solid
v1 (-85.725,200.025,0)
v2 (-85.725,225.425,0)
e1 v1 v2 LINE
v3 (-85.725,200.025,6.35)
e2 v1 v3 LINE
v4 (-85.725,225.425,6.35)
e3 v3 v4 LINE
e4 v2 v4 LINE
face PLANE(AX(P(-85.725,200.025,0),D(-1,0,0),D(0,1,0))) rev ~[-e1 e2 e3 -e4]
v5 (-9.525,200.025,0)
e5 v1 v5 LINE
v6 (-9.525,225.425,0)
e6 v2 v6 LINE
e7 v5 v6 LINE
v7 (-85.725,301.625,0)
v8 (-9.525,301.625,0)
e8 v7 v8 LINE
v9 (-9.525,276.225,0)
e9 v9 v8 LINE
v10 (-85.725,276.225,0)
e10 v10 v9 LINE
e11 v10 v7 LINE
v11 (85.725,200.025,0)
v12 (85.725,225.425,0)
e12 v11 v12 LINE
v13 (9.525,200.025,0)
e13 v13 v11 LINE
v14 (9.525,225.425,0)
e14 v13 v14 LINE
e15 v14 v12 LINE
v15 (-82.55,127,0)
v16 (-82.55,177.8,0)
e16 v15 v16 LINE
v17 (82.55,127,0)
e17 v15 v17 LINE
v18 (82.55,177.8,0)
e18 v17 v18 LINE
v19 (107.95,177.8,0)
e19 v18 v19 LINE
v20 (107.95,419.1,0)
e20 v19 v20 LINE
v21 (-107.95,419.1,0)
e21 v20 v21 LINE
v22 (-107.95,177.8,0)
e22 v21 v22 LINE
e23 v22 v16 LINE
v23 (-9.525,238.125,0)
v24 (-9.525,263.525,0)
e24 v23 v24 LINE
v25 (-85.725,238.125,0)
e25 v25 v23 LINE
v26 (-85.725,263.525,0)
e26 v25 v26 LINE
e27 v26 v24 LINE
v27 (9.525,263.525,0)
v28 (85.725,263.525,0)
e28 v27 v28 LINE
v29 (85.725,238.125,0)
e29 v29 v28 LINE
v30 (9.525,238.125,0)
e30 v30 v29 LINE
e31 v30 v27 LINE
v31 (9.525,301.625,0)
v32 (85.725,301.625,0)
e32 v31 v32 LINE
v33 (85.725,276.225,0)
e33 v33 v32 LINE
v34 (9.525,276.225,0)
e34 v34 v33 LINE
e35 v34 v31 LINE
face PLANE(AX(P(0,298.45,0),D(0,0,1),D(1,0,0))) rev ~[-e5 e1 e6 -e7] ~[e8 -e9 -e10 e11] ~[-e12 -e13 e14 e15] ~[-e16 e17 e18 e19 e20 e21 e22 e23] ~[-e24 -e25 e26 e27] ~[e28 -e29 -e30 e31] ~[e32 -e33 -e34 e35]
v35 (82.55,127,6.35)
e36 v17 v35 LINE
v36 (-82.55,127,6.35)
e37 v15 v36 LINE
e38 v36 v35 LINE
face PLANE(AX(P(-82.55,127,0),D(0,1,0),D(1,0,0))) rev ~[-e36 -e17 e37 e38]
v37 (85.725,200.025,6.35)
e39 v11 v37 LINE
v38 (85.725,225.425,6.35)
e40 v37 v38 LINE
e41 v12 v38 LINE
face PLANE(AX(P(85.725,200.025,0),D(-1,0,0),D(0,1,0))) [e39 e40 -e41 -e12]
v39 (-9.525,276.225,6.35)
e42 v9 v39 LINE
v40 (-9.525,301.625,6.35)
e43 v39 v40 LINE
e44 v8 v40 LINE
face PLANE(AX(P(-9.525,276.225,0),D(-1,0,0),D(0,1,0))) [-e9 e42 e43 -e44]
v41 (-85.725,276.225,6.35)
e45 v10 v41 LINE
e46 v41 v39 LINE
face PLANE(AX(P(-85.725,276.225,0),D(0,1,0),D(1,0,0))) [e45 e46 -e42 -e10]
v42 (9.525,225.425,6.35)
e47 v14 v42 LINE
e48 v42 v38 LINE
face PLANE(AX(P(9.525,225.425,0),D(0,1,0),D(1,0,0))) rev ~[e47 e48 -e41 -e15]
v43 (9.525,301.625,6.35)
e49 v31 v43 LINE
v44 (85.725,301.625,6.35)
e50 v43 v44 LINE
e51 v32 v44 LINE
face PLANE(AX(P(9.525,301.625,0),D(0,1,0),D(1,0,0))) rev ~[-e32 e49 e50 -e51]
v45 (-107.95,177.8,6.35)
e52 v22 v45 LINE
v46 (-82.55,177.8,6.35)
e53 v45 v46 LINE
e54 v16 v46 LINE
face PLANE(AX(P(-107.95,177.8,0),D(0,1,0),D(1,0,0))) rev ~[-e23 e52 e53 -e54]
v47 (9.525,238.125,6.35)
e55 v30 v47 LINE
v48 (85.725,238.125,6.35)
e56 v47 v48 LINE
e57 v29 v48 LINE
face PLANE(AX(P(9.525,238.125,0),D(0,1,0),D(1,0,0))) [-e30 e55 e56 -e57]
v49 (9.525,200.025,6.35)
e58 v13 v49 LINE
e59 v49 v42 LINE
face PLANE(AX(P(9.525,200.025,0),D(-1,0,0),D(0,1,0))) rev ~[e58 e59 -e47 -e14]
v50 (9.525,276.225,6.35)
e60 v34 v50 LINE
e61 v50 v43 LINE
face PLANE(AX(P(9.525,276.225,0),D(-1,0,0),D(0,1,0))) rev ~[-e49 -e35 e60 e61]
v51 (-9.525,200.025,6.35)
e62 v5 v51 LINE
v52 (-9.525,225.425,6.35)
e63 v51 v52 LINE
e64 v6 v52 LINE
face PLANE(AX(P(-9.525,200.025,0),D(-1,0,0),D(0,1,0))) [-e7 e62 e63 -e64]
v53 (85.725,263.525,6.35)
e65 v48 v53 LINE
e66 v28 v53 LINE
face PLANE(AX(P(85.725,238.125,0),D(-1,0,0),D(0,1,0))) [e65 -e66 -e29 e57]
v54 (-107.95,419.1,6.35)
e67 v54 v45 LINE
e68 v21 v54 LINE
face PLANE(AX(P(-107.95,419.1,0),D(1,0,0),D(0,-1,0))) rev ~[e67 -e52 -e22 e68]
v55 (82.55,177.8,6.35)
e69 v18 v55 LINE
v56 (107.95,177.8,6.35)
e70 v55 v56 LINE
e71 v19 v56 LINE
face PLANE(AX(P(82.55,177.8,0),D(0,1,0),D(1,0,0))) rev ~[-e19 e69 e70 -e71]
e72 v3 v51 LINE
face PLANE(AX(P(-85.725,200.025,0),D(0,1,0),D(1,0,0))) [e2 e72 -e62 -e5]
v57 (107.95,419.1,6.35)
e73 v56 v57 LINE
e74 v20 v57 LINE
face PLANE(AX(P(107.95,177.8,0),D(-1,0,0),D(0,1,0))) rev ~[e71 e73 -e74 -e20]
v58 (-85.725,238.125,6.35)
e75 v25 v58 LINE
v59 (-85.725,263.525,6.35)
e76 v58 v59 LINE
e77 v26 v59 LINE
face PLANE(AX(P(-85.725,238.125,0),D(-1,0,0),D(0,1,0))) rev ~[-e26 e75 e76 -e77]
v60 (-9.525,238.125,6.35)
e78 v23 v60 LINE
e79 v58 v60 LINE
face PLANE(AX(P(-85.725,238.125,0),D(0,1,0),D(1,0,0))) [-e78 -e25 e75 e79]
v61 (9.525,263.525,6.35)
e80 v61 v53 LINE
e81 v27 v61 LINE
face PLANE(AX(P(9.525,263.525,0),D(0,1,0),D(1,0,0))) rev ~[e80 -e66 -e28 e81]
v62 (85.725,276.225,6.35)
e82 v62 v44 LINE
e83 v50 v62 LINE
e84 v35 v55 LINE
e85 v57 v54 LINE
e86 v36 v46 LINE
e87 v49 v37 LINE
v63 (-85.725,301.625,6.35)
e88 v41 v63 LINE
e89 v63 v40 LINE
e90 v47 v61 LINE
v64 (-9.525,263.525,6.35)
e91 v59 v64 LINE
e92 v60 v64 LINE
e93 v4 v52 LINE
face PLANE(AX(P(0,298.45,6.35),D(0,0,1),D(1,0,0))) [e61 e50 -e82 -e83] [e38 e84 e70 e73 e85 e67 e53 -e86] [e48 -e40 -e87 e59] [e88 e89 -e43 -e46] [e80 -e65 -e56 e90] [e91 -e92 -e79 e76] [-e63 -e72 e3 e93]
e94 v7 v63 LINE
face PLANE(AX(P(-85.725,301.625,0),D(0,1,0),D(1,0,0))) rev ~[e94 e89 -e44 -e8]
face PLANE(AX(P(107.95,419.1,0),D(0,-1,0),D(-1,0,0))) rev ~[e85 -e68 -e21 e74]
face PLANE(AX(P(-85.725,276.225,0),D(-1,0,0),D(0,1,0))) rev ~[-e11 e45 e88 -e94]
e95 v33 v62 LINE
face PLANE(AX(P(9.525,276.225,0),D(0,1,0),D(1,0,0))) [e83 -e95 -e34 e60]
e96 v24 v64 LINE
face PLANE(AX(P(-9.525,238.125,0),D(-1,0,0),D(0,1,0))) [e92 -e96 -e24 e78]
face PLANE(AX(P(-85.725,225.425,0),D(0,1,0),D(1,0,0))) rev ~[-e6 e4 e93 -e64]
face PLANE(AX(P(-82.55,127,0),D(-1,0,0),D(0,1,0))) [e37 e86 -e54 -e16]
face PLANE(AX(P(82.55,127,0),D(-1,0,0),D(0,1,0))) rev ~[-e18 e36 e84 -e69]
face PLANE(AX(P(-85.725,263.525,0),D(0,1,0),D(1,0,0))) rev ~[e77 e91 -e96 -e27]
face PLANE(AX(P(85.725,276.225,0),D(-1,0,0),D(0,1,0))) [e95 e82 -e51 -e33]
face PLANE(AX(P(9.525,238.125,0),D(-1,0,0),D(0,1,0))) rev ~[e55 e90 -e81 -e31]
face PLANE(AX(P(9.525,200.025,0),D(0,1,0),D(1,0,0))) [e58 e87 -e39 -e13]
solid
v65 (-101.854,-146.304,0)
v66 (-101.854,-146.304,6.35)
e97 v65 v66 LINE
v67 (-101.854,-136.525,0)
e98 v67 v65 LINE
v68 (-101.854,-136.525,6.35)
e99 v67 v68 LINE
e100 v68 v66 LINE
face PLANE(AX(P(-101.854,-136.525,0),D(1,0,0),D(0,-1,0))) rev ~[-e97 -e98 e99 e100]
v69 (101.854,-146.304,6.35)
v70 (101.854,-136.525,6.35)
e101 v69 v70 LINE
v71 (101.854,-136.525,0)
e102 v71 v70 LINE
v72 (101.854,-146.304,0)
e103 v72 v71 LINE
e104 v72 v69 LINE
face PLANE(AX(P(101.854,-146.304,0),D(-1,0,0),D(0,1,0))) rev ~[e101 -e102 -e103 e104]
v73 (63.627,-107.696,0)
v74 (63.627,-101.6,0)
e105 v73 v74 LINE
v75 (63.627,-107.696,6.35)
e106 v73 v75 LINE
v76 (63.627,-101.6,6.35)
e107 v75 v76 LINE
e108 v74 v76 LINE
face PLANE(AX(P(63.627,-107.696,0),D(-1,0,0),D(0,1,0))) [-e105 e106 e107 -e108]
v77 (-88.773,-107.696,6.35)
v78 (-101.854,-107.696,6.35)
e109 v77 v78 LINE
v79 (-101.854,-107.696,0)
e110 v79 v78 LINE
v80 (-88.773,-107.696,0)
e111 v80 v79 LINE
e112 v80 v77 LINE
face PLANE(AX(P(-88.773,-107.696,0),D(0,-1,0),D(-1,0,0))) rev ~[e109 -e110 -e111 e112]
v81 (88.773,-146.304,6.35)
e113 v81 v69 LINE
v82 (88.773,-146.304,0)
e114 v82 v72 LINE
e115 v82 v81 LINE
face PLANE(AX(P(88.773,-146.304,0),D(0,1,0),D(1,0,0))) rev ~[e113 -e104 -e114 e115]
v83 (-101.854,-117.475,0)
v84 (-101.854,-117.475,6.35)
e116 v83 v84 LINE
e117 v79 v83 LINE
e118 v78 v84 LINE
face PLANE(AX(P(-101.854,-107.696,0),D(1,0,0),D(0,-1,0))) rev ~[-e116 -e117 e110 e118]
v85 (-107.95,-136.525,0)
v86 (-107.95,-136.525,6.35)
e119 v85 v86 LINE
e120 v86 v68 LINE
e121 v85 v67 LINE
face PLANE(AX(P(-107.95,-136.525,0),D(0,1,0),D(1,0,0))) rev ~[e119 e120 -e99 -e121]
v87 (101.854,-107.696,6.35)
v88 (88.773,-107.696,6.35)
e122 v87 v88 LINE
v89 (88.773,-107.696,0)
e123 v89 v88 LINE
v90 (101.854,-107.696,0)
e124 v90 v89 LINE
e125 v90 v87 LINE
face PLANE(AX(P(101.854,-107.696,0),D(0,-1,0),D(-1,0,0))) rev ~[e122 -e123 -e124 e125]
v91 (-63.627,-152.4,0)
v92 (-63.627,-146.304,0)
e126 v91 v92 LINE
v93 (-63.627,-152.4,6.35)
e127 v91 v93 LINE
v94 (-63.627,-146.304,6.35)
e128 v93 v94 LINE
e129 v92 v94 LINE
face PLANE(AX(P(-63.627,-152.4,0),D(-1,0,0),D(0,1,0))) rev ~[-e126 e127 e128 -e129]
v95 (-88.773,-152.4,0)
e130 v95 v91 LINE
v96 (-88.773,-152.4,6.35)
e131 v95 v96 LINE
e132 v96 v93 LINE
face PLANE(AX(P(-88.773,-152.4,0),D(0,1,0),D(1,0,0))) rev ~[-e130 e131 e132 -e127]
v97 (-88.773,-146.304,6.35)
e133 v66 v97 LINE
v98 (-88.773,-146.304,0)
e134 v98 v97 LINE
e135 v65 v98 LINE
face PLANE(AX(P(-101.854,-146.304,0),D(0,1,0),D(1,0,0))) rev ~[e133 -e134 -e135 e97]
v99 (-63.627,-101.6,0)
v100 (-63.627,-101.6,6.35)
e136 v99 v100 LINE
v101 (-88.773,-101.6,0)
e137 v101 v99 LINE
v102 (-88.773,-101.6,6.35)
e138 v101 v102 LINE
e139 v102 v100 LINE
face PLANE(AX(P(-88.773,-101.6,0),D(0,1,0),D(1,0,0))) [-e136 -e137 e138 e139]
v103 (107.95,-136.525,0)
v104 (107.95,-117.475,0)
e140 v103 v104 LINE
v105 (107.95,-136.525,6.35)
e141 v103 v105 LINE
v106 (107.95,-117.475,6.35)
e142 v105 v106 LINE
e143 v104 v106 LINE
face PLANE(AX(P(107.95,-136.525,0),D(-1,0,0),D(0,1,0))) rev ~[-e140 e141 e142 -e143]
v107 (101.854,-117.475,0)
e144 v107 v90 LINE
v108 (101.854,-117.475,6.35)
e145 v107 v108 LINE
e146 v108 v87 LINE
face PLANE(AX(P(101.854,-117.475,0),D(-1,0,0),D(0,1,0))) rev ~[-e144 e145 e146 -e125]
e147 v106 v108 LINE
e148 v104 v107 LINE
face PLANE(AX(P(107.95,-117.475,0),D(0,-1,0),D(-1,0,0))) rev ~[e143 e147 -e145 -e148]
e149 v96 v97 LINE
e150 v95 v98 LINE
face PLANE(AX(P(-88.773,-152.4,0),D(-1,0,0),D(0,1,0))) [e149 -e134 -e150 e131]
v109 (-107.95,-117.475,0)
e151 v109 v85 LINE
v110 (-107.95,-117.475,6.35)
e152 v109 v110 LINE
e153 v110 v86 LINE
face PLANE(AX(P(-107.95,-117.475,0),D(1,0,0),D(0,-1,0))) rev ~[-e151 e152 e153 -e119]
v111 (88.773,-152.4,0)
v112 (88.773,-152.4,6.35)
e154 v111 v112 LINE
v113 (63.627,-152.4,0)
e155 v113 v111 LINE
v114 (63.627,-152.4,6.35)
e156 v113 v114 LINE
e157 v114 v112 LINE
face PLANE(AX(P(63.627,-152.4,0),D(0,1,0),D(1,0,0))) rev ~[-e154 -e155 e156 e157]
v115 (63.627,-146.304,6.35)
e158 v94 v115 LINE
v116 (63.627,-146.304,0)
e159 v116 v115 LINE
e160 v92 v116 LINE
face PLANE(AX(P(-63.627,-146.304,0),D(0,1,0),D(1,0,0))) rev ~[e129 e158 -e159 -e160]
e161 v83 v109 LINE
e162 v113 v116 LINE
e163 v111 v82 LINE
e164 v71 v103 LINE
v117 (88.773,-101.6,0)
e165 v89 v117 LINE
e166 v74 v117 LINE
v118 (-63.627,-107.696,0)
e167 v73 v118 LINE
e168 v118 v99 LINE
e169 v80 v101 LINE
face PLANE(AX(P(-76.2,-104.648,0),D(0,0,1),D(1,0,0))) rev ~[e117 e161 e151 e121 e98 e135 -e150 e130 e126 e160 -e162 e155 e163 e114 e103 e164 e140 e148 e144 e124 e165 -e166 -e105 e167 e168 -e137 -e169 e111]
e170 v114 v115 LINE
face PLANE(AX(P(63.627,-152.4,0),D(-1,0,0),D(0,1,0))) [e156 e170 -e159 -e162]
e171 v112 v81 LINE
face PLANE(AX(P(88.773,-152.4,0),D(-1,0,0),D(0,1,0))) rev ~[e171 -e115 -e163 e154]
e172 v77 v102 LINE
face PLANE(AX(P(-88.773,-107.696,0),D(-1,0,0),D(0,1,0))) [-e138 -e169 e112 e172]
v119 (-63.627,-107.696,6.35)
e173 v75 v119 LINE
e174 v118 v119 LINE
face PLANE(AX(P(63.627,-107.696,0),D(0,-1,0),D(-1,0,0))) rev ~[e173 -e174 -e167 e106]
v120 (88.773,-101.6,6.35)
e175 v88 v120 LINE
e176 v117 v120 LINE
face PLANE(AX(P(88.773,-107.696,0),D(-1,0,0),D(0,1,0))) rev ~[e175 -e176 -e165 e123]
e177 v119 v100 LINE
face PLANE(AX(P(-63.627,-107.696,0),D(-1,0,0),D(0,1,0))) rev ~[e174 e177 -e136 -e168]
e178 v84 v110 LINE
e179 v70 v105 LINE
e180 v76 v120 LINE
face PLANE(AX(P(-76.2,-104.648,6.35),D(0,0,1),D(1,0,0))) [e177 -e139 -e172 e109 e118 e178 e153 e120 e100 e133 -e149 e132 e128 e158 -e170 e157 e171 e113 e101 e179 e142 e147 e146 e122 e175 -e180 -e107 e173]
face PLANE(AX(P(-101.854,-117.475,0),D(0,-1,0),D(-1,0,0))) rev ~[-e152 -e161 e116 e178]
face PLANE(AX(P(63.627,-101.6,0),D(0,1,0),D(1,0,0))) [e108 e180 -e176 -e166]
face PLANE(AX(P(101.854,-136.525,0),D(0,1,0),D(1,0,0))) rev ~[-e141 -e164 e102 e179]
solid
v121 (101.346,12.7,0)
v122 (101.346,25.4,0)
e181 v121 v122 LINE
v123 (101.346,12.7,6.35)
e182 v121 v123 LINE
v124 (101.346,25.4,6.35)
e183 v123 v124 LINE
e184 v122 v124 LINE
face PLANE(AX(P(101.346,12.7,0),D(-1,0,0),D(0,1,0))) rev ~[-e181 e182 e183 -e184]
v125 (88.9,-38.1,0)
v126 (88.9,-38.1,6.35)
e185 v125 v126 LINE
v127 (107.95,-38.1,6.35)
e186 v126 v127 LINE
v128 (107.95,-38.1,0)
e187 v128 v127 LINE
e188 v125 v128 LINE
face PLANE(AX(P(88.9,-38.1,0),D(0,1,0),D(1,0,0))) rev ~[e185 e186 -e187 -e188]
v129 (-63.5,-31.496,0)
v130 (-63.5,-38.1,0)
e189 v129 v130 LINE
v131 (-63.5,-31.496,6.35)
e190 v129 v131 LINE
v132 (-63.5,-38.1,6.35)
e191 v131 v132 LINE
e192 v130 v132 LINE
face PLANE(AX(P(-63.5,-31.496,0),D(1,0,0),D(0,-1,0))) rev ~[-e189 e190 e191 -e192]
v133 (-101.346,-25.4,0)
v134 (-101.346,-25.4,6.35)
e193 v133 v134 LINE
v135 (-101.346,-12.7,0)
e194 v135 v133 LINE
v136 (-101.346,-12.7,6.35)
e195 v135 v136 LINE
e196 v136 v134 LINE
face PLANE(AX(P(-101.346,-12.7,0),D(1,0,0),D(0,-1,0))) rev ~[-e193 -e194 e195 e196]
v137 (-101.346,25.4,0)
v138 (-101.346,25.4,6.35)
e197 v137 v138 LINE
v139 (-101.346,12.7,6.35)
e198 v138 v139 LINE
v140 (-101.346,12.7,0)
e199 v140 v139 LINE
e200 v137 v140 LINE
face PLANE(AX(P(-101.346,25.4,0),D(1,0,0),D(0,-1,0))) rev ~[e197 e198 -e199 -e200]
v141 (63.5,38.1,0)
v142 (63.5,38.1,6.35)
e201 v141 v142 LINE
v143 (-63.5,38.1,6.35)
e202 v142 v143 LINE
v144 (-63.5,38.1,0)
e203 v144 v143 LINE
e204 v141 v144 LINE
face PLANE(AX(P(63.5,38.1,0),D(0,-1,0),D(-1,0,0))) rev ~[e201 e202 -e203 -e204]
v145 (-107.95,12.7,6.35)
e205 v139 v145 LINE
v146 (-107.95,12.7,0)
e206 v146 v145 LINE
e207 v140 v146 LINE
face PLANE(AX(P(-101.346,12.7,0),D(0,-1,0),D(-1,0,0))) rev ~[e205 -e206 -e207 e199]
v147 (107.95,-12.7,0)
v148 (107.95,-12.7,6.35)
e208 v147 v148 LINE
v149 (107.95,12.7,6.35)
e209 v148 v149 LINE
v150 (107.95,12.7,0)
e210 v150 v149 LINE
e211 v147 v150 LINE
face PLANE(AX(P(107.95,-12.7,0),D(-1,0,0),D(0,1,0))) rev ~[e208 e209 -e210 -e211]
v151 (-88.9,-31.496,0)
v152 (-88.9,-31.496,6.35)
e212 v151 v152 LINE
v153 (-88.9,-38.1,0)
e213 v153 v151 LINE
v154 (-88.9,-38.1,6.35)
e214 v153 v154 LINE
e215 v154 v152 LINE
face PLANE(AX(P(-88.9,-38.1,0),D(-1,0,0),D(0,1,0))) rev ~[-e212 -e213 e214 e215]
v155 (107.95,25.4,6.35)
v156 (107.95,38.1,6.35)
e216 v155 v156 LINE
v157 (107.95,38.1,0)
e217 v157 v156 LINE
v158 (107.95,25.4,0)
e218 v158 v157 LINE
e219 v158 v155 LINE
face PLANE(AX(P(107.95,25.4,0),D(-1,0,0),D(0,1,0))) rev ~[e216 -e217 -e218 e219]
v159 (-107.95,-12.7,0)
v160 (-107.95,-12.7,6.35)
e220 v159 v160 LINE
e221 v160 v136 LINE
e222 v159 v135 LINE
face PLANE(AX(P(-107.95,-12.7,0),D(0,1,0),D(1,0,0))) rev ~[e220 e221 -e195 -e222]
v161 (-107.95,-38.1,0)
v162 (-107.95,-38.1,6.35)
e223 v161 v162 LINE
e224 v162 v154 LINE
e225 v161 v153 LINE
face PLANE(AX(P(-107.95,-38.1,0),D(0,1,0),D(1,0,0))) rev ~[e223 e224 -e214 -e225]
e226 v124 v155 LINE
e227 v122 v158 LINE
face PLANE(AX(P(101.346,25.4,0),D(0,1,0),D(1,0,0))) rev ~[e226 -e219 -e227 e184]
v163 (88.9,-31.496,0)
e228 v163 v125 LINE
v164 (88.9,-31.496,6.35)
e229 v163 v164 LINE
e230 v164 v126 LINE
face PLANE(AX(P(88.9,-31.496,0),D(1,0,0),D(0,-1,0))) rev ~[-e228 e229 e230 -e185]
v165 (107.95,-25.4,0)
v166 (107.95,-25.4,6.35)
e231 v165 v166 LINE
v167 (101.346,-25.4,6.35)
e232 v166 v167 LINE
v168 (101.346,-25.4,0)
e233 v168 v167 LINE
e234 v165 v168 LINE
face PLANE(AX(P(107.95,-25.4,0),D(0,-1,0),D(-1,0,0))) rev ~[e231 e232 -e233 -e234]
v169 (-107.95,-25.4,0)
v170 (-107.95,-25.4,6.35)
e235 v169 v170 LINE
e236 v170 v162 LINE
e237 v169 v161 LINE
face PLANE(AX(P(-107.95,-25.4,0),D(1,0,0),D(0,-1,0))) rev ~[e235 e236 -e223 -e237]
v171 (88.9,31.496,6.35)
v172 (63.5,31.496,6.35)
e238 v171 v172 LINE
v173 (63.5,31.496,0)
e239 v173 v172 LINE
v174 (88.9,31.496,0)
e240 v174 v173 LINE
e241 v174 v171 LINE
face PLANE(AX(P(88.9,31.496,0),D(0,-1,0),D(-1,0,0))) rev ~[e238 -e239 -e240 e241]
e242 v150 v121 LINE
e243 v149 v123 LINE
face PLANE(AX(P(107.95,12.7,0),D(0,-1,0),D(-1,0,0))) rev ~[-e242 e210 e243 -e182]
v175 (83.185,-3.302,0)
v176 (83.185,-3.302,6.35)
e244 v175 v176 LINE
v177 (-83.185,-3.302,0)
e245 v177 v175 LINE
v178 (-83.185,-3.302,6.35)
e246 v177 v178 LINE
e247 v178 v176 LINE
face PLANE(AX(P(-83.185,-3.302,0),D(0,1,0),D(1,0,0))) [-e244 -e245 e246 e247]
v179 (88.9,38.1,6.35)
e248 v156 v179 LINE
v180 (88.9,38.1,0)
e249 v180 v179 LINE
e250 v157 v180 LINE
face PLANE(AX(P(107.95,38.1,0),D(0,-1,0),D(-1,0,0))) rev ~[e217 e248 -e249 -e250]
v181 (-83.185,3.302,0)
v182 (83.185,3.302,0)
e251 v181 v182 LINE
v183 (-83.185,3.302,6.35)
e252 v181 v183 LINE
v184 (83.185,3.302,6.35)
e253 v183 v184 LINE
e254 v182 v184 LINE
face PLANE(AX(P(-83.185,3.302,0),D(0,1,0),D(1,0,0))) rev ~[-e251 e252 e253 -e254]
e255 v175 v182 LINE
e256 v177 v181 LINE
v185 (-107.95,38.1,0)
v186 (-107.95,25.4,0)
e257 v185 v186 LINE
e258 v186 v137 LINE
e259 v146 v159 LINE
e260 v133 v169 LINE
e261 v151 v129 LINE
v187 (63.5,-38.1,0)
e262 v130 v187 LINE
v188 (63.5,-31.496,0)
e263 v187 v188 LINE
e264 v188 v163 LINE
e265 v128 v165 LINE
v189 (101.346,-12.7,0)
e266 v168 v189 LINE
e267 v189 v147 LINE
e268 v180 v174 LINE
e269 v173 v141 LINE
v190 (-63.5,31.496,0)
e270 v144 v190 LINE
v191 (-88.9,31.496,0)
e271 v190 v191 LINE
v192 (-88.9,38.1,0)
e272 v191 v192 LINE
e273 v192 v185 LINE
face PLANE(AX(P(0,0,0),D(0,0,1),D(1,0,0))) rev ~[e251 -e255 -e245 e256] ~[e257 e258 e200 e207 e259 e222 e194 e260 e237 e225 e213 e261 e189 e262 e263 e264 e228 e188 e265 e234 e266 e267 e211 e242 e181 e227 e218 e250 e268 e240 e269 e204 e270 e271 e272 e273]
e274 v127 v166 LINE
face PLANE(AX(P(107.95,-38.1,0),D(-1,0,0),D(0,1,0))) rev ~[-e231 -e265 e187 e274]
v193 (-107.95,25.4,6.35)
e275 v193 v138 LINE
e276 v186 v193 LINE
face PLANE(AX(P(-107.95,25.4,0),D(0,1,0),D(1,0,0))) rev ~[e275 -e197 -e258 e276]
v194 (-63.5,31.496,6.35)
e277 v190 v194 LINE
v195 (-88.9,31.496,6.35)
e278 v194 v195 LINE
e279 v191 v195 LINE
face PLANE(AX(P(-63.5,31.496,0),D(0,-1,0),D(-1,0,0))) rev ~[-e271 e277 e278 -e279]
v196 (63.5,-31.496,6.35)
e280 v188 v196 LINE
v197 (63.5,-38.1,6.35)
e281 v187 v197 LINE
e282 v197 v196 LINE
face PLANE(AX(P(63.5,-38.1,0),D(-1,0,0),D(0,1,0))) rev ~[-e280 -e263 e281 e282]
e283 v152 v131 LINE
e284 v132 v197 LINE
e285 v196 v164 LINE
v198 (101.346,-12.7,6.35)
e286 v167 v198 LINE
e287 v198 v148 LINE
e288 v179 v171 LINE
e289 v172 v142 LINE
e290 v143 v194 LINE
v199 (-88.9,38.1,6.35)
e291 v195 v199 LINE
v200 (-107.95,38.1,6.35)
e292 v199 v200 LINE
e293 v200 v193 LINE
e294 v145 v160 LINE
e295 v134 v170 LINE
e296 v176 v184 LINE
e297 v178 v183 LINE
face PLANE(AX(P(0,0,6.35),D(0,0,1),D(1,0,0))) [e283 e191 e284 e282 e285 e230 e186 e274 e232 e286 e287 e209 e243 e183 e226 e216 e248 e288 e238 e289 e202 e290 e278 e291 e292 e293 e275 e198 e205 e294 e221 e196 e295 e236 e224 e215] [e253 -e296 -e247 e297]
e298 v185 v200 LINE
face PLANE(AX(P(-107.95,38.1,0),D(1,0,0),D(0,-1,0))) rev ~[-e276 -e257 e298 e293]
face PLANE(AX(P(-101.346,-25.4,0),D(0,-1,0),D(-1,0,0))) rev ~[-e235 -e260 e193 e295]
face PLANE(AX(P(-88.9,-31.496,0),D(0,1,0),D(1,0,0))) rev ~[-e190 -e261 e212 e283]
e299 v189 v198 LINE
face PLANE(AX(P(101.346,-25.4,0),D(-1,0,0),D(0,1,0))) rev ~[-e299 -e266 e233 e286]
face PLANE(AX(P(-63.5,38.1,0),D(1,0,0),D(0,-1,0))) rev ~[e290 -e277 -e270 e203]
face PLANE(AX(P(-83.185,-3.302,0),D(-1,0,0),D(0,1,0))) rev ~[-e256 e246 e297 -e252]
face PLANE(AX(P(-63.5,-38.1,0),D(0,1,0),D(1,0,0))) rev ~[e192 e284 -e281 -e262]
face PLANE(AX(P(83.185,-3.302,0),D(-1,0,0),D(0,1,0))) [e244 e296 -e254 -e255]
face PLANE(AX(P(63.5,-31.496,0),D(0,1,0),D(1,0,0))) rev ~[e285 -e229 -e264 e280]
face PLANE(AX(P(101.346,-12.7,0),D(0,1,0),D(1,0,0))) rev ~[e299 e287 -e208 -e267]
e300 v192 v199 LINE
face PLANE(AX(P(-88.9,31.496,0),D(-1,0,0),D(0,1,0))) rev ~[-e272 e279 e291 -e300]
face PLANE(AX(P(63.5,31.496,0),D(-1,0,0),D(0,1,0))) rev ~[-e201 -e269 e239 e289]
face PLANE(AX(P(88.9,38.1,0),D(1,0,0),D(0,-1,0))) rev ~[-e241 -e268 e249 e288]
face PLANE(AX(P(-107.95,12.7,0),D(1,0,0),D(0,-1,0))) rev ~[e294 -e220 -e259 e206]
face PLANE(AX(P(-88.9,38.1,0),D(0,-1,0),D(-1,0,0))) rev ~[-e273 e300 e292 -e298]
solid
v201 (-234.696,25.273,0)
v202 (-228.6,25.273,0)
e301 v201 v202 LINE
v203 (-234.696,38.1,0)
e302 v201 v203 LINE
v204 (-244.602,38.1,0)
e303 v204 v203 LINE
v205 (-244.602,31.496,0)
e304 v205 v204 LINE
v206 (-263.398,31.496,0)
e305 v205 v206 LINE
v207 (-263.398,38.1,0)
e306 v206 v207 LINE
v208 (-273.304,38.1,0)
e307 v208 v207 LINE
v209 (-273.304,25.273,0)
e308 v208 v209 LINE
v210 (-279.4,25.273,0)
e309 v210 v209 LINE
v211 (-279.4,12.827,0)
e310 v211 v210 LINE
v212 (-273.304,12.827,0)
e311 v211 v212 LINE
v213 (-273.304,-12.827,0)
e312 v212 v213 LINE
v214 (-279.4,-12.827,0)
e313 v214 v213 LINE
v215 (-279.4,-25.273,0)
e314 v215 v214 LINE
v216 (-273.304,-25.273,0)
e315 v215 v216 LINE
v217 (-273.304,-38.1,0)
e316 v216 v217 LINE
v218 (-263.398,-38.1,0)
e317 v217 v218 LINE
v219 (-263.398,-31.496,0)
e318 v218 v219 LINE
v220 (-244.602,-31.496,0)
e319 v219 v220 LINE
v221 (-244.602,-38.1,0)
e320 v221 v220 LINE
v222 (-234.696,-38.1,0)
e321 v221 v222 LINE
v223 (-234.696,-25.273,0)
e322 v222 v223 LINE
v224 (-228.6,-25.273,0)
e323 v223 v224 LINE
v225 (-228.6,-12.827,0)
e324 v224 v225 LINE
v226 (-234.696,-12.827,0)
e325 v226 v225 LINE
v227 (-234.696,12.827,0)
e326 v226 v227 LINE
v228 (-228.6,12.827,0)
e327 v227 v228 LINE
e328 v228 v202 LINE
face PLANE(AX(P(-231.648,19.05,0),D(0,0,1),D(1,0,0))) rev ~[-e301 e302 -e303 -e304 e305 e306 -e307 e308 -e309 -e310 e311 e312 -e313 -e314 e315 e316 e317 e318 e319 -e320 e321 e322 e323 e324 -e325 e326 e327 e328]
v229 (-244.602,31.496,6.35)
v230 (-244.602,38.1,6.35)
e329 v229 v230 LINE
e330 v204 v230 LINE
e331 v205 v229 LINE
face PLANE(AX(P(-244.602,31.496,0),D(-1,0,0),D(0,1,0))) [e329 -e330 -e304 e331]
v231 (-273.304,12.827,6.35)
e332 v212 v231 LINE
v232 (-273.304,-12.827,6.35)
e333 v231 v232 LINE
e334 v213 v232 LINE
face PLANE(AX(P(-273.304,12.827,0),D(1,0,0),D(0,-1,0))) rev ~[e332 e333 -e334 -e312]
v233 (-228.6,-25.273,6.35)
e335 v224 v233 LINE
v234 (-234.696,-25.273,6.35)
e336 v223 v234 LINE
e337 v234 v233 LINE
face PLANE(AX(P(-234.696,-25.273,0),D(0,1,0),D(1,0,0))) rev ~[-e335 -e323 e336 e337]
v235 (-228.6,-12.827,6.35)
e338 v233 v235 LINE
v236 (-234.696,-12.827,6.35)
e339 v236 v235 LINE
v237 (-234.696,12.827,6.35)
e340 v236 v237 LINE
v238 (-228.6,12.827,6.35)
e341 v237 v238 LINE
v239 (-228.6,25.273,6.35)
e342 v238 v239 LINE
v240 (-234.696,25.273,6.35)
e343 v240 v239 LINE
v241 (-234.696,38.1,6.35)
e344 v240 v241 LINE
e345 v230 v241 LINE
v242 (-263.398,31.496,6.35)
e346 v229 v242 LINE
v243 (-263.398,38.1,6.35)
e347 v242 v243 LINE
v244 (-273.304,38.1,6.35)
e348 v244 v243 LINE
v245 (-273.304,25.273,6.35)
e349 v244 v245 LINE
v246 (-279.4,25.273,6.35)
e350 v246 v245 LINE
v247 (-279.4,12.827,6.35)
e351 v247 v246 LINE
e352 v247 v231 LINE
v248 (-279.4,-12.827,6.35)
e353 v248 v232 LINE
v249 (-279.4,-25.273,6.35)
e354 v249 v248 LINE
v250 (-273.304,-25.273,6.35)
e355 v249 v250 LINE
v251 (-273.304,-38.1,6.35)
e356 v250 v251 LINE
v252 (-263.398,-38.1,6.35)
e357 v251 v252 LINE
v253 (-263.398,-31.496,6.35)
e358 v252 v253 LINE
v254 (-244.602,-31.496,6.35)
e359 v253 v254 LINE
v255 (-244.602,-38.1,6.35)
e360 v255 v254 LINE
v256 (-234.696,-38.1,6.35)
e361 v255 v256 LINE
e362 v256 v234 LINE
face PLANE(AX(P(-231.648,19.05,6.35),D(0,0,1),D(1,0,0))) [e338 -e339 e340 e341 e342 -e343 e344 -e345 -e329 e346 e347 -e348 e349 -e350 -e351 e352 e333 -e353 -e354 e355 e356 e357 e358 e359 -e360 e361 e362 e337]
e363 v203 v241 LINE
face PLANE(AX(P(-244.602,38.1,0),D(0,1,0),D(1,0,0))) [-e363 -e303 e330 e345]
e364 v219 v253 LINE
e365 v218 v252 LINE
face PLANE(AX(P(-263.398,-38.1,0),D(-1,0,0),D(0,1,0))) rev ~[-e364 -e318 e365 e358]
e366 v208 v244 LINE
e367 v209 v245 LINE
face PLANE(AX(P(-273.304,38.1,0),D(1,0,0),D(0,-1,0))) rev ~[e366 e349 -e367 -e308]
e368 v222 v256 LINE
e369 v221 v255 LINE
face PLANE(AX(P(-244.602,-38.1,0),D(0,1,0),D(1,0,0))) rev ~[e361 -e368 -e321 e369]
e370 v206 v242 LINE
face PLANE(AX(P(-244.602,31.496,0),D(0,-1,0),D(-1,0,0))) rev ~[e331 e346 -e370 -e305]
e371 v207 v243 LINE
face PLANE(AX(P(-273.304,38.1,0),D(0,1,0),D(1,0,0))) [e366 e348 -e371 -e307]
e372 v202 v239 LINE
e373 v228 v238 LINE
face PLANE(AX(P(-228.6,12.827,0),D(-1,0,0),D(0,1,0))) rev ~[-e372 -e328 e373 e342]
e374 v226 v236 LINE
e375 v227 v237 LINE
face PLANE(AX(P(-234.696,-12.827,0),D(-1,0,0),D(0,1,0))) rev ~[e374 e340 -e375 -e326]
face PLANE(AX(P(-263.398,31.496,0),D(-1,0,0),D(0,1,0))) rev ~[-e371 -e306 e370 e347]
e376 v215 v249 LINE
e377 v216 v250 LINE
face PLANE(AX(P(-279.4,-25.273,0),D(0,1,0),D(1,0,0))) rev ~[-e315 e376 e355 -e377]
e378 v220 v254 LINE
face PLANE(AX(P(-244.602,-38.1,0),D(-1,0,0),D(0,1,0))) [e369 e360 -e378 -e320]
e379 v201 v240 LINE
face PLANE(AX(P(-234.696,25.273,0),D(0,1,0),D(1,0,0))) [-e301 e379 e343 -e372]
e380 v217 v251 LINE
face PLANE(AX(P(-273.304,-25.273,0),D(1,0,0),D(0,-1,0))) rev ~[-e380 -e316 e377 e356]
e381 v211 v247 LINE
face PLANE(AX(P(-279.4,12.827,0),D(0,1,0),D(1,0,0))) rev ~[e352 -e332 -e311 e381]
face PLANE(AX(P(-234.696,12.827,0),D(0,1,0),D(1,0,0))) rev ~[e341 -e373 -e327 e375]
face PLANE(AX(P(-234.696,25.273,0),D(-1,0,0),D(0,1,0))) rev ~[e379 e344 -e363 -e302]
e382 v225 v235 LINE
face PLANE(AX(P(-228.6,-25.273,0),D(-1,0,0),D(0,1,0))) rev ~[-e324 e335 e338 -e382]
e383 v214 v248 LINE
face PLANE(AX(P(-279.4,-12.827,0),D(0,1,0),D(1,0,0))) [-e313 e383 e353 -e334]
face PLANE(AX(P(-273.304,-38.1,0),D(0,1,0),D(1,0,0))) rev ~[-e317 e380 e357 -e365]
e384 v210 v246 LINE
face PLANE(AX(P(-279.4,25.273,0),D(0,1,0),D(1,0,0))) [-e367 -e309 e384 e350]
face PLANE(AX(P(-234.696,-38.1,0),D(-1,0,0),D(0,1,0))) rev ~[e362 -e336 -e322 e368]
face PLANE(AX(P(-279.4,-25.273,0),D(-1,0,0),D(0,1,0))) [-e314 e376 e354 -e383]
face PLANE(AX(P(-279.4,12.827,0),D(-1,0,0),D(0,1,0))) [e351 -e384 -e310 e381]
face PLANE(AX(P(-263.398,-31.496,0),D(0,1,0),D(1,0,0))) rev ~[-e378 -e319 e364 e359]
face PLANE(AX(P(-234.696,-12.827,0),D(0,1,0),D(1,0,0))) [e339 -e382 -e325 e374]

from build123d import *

# Parameters (mm, degrees)
F0_W     = 166.37
F0_H     = 6.604
F1_DEPTH = 6.35
F0_W_2   = 25.146
F0_H_2   = 6.096
F2_DEPTH = 6.35
F0_W_3   = 6.096
F0_H_3   = 12.446
F0_W_4   = 9.906
F3_DEPTH = 6.35
F0_W_5   = 76.2
F0_H_4   = 25.4
F0_W_6   = 165.1
F0_H_5   = 50.8
F4_DEPTH = 6.35


with BuildPart() as f1:
    # F0 (on Top) → F1 (new body)
    with BuildSketch(Plane.XY):
        Polygon((-88.9, 38.1), (-107.95, 38.1), (-107.95, 25.4), (-101.346, 25.4), (-101.346, 12.7), (-107.95, 12.7), (-107.95, -12.7), (-101.346, -12.7), (-101.346, -25.4), (-107.95, -25.4), (-107.95, -38.1), (-88.9, -38.1), (-88.9, -31.496), (-63.5, -31.496), (-63.5, -38.1), (63.5, -38.1), (63.5, -31.496), (88.9, -31.496), (88.9, -38.1), (107.95, -38.1), (107.95, -25.4), (101.346, -25.4), (101.346, -12.7), (107.95, -12.7), (107.95, 12.7), (101.346, 12.7), (101.346, 25.4), (107.95, 25.4), (107.95, 38.1), (88.9, 38.1), (88.9, 31.496), (63.5, 31.496), (63.5, 38.1), (-63.5, 38.1), (-63.5, 31.496), (-88.9, 31.496), align=None)
        Rectangle(F0_W, F0_H, mode=Mode.SUBTRACT)
    extrude(amount=F1_DEPTH)


with BuildPart() as f2:
    # F0 (on Top) → F2 (new body)
    with BuildSketch(Plane.XY):
        with Locations((-76.2, -104.648)):
            Rectangle(F0_W_2, F0_H_2)
        with Locations((-76.2, -149.352)):
            Rectangle(F0_W_2, F0_H_2)
        with Locations((76.2, -149.352)):
            Rectangle(F0_W_2, F0_H_2)
        with Locations((76.2, -104.648)):
            Rectangle(F0_W_2, F0_H_2)
        Polygon((-88.773, -107.696), (-101.854, -107.696), (-101.854, -117.475), (-107.95, -117.475), (-107.95, -136.525), (-101.854, -136.525), (-101.854, -146.304), (-88.773, -146.304), (-63.627, -146.304), (63.627, -146.304), (88.773, -146.304), (101.854, -146.304), (101.854, -136.525), (107.95, -136.525), (107.95, -117.475), (101.854, -117.475), (101.854, -107.696), (88.773, -107.696), (63.627, -107.696), (-63.627, -107.696), align=None)
    extrude(amount=F2_DEPTH)


with BuildPart() as f3:
    # F0 (on Top) → F3 (new body)
    with BuildSketch(Plane.XY):
        with Locations((-231.648, 19.05)):
            Rectangle(F0_W_3, F0_H_3)
        with Locations((-231.648, -19.05)):
            Rectangle(F0_W_3, F0_H_3)
        with Locations((-276.352, -19.05)):
            Rectangle(F0_W_3, F0_H_3)
        with Locations((-276.352, 19.05)):
            Rectangle(F0_W_3, F0_H_3)
        Polygon((-263.398, 31.496), (-273.304, 31.496), (-273.304, 25.273), (-273.304, 12.827), (-273.304, -12.827), (-273.304, -25.273), (-273.304, -31.496), (-263.398, -31.496), (-244.602, -31.496), (-234.696, -31.496), (-234.696, -25.273), (-234.696, -12.827), (-234.696, 12.827), (-234.696, 25.273), (-234.696, 31.496), (-244.602, 31.496), align=None)
        with Locations((-239.649, 34.798)):
            Rectangle(F0_W_4, F0_H)
        with Locations((-268.351, 34.798)):
            Rectangle(F0_W_4, F0_H)
        with Locations((-268.351, -34.798)):
            Rectangle(F0_W_4, F0_H)
        with Locations((-239.649, -34.798)):
            Rectangle(F0_W_4, F0_H)
    extrude(amount=F3_DEPTH)


with BuildPart() as f4:
    # F0 (on Top) → F4 (new body)
    with BuildSketch(Plane.XY):
        Polygon((107.95, 419.1), (-107.95, 419.1), (-107.95, 177.8), (-82.55, 177.8), (82.55, 177.8), (107.95, 177.8), align=None)
        with Locations((-47.625, 212.725)):
            Rectangle(F0_W_5, F0_H_4, mode=Mode.SUBTRACT)
        with Locations((-47.625, 250.825)):
            Rectangle(F0_W_5, F0_H_4, mode=Mode.SUBTRACT)
        with Locations((47.625, 212.725)):
            Rectangle(F0_W_5, F0_H_4, mode=Mode.SUBTRACT)
        with Locations((47.625, 250.825)):
            Rectangle(F0_W_5, F0_H_4, mode=Mode.SUBTRACT)
        with Locations((-47.625, 288.925)):
            Rectangle(F0_W_5, F0_H_4, mode=Mode.SUBTRACT)
        with Locations((47.625, 288.925)):
            Rectangle(F0_W_5, F0_H_4, mode=Mode.SUBTRACT)
        with Locations((0, 152.4)):
            Rectangle(F0_W_6, F0_H_5)
    extrude(amount=F4_DEPTH)


solid = Compound([f1.part, f2.part, f3.part, f4.part])
